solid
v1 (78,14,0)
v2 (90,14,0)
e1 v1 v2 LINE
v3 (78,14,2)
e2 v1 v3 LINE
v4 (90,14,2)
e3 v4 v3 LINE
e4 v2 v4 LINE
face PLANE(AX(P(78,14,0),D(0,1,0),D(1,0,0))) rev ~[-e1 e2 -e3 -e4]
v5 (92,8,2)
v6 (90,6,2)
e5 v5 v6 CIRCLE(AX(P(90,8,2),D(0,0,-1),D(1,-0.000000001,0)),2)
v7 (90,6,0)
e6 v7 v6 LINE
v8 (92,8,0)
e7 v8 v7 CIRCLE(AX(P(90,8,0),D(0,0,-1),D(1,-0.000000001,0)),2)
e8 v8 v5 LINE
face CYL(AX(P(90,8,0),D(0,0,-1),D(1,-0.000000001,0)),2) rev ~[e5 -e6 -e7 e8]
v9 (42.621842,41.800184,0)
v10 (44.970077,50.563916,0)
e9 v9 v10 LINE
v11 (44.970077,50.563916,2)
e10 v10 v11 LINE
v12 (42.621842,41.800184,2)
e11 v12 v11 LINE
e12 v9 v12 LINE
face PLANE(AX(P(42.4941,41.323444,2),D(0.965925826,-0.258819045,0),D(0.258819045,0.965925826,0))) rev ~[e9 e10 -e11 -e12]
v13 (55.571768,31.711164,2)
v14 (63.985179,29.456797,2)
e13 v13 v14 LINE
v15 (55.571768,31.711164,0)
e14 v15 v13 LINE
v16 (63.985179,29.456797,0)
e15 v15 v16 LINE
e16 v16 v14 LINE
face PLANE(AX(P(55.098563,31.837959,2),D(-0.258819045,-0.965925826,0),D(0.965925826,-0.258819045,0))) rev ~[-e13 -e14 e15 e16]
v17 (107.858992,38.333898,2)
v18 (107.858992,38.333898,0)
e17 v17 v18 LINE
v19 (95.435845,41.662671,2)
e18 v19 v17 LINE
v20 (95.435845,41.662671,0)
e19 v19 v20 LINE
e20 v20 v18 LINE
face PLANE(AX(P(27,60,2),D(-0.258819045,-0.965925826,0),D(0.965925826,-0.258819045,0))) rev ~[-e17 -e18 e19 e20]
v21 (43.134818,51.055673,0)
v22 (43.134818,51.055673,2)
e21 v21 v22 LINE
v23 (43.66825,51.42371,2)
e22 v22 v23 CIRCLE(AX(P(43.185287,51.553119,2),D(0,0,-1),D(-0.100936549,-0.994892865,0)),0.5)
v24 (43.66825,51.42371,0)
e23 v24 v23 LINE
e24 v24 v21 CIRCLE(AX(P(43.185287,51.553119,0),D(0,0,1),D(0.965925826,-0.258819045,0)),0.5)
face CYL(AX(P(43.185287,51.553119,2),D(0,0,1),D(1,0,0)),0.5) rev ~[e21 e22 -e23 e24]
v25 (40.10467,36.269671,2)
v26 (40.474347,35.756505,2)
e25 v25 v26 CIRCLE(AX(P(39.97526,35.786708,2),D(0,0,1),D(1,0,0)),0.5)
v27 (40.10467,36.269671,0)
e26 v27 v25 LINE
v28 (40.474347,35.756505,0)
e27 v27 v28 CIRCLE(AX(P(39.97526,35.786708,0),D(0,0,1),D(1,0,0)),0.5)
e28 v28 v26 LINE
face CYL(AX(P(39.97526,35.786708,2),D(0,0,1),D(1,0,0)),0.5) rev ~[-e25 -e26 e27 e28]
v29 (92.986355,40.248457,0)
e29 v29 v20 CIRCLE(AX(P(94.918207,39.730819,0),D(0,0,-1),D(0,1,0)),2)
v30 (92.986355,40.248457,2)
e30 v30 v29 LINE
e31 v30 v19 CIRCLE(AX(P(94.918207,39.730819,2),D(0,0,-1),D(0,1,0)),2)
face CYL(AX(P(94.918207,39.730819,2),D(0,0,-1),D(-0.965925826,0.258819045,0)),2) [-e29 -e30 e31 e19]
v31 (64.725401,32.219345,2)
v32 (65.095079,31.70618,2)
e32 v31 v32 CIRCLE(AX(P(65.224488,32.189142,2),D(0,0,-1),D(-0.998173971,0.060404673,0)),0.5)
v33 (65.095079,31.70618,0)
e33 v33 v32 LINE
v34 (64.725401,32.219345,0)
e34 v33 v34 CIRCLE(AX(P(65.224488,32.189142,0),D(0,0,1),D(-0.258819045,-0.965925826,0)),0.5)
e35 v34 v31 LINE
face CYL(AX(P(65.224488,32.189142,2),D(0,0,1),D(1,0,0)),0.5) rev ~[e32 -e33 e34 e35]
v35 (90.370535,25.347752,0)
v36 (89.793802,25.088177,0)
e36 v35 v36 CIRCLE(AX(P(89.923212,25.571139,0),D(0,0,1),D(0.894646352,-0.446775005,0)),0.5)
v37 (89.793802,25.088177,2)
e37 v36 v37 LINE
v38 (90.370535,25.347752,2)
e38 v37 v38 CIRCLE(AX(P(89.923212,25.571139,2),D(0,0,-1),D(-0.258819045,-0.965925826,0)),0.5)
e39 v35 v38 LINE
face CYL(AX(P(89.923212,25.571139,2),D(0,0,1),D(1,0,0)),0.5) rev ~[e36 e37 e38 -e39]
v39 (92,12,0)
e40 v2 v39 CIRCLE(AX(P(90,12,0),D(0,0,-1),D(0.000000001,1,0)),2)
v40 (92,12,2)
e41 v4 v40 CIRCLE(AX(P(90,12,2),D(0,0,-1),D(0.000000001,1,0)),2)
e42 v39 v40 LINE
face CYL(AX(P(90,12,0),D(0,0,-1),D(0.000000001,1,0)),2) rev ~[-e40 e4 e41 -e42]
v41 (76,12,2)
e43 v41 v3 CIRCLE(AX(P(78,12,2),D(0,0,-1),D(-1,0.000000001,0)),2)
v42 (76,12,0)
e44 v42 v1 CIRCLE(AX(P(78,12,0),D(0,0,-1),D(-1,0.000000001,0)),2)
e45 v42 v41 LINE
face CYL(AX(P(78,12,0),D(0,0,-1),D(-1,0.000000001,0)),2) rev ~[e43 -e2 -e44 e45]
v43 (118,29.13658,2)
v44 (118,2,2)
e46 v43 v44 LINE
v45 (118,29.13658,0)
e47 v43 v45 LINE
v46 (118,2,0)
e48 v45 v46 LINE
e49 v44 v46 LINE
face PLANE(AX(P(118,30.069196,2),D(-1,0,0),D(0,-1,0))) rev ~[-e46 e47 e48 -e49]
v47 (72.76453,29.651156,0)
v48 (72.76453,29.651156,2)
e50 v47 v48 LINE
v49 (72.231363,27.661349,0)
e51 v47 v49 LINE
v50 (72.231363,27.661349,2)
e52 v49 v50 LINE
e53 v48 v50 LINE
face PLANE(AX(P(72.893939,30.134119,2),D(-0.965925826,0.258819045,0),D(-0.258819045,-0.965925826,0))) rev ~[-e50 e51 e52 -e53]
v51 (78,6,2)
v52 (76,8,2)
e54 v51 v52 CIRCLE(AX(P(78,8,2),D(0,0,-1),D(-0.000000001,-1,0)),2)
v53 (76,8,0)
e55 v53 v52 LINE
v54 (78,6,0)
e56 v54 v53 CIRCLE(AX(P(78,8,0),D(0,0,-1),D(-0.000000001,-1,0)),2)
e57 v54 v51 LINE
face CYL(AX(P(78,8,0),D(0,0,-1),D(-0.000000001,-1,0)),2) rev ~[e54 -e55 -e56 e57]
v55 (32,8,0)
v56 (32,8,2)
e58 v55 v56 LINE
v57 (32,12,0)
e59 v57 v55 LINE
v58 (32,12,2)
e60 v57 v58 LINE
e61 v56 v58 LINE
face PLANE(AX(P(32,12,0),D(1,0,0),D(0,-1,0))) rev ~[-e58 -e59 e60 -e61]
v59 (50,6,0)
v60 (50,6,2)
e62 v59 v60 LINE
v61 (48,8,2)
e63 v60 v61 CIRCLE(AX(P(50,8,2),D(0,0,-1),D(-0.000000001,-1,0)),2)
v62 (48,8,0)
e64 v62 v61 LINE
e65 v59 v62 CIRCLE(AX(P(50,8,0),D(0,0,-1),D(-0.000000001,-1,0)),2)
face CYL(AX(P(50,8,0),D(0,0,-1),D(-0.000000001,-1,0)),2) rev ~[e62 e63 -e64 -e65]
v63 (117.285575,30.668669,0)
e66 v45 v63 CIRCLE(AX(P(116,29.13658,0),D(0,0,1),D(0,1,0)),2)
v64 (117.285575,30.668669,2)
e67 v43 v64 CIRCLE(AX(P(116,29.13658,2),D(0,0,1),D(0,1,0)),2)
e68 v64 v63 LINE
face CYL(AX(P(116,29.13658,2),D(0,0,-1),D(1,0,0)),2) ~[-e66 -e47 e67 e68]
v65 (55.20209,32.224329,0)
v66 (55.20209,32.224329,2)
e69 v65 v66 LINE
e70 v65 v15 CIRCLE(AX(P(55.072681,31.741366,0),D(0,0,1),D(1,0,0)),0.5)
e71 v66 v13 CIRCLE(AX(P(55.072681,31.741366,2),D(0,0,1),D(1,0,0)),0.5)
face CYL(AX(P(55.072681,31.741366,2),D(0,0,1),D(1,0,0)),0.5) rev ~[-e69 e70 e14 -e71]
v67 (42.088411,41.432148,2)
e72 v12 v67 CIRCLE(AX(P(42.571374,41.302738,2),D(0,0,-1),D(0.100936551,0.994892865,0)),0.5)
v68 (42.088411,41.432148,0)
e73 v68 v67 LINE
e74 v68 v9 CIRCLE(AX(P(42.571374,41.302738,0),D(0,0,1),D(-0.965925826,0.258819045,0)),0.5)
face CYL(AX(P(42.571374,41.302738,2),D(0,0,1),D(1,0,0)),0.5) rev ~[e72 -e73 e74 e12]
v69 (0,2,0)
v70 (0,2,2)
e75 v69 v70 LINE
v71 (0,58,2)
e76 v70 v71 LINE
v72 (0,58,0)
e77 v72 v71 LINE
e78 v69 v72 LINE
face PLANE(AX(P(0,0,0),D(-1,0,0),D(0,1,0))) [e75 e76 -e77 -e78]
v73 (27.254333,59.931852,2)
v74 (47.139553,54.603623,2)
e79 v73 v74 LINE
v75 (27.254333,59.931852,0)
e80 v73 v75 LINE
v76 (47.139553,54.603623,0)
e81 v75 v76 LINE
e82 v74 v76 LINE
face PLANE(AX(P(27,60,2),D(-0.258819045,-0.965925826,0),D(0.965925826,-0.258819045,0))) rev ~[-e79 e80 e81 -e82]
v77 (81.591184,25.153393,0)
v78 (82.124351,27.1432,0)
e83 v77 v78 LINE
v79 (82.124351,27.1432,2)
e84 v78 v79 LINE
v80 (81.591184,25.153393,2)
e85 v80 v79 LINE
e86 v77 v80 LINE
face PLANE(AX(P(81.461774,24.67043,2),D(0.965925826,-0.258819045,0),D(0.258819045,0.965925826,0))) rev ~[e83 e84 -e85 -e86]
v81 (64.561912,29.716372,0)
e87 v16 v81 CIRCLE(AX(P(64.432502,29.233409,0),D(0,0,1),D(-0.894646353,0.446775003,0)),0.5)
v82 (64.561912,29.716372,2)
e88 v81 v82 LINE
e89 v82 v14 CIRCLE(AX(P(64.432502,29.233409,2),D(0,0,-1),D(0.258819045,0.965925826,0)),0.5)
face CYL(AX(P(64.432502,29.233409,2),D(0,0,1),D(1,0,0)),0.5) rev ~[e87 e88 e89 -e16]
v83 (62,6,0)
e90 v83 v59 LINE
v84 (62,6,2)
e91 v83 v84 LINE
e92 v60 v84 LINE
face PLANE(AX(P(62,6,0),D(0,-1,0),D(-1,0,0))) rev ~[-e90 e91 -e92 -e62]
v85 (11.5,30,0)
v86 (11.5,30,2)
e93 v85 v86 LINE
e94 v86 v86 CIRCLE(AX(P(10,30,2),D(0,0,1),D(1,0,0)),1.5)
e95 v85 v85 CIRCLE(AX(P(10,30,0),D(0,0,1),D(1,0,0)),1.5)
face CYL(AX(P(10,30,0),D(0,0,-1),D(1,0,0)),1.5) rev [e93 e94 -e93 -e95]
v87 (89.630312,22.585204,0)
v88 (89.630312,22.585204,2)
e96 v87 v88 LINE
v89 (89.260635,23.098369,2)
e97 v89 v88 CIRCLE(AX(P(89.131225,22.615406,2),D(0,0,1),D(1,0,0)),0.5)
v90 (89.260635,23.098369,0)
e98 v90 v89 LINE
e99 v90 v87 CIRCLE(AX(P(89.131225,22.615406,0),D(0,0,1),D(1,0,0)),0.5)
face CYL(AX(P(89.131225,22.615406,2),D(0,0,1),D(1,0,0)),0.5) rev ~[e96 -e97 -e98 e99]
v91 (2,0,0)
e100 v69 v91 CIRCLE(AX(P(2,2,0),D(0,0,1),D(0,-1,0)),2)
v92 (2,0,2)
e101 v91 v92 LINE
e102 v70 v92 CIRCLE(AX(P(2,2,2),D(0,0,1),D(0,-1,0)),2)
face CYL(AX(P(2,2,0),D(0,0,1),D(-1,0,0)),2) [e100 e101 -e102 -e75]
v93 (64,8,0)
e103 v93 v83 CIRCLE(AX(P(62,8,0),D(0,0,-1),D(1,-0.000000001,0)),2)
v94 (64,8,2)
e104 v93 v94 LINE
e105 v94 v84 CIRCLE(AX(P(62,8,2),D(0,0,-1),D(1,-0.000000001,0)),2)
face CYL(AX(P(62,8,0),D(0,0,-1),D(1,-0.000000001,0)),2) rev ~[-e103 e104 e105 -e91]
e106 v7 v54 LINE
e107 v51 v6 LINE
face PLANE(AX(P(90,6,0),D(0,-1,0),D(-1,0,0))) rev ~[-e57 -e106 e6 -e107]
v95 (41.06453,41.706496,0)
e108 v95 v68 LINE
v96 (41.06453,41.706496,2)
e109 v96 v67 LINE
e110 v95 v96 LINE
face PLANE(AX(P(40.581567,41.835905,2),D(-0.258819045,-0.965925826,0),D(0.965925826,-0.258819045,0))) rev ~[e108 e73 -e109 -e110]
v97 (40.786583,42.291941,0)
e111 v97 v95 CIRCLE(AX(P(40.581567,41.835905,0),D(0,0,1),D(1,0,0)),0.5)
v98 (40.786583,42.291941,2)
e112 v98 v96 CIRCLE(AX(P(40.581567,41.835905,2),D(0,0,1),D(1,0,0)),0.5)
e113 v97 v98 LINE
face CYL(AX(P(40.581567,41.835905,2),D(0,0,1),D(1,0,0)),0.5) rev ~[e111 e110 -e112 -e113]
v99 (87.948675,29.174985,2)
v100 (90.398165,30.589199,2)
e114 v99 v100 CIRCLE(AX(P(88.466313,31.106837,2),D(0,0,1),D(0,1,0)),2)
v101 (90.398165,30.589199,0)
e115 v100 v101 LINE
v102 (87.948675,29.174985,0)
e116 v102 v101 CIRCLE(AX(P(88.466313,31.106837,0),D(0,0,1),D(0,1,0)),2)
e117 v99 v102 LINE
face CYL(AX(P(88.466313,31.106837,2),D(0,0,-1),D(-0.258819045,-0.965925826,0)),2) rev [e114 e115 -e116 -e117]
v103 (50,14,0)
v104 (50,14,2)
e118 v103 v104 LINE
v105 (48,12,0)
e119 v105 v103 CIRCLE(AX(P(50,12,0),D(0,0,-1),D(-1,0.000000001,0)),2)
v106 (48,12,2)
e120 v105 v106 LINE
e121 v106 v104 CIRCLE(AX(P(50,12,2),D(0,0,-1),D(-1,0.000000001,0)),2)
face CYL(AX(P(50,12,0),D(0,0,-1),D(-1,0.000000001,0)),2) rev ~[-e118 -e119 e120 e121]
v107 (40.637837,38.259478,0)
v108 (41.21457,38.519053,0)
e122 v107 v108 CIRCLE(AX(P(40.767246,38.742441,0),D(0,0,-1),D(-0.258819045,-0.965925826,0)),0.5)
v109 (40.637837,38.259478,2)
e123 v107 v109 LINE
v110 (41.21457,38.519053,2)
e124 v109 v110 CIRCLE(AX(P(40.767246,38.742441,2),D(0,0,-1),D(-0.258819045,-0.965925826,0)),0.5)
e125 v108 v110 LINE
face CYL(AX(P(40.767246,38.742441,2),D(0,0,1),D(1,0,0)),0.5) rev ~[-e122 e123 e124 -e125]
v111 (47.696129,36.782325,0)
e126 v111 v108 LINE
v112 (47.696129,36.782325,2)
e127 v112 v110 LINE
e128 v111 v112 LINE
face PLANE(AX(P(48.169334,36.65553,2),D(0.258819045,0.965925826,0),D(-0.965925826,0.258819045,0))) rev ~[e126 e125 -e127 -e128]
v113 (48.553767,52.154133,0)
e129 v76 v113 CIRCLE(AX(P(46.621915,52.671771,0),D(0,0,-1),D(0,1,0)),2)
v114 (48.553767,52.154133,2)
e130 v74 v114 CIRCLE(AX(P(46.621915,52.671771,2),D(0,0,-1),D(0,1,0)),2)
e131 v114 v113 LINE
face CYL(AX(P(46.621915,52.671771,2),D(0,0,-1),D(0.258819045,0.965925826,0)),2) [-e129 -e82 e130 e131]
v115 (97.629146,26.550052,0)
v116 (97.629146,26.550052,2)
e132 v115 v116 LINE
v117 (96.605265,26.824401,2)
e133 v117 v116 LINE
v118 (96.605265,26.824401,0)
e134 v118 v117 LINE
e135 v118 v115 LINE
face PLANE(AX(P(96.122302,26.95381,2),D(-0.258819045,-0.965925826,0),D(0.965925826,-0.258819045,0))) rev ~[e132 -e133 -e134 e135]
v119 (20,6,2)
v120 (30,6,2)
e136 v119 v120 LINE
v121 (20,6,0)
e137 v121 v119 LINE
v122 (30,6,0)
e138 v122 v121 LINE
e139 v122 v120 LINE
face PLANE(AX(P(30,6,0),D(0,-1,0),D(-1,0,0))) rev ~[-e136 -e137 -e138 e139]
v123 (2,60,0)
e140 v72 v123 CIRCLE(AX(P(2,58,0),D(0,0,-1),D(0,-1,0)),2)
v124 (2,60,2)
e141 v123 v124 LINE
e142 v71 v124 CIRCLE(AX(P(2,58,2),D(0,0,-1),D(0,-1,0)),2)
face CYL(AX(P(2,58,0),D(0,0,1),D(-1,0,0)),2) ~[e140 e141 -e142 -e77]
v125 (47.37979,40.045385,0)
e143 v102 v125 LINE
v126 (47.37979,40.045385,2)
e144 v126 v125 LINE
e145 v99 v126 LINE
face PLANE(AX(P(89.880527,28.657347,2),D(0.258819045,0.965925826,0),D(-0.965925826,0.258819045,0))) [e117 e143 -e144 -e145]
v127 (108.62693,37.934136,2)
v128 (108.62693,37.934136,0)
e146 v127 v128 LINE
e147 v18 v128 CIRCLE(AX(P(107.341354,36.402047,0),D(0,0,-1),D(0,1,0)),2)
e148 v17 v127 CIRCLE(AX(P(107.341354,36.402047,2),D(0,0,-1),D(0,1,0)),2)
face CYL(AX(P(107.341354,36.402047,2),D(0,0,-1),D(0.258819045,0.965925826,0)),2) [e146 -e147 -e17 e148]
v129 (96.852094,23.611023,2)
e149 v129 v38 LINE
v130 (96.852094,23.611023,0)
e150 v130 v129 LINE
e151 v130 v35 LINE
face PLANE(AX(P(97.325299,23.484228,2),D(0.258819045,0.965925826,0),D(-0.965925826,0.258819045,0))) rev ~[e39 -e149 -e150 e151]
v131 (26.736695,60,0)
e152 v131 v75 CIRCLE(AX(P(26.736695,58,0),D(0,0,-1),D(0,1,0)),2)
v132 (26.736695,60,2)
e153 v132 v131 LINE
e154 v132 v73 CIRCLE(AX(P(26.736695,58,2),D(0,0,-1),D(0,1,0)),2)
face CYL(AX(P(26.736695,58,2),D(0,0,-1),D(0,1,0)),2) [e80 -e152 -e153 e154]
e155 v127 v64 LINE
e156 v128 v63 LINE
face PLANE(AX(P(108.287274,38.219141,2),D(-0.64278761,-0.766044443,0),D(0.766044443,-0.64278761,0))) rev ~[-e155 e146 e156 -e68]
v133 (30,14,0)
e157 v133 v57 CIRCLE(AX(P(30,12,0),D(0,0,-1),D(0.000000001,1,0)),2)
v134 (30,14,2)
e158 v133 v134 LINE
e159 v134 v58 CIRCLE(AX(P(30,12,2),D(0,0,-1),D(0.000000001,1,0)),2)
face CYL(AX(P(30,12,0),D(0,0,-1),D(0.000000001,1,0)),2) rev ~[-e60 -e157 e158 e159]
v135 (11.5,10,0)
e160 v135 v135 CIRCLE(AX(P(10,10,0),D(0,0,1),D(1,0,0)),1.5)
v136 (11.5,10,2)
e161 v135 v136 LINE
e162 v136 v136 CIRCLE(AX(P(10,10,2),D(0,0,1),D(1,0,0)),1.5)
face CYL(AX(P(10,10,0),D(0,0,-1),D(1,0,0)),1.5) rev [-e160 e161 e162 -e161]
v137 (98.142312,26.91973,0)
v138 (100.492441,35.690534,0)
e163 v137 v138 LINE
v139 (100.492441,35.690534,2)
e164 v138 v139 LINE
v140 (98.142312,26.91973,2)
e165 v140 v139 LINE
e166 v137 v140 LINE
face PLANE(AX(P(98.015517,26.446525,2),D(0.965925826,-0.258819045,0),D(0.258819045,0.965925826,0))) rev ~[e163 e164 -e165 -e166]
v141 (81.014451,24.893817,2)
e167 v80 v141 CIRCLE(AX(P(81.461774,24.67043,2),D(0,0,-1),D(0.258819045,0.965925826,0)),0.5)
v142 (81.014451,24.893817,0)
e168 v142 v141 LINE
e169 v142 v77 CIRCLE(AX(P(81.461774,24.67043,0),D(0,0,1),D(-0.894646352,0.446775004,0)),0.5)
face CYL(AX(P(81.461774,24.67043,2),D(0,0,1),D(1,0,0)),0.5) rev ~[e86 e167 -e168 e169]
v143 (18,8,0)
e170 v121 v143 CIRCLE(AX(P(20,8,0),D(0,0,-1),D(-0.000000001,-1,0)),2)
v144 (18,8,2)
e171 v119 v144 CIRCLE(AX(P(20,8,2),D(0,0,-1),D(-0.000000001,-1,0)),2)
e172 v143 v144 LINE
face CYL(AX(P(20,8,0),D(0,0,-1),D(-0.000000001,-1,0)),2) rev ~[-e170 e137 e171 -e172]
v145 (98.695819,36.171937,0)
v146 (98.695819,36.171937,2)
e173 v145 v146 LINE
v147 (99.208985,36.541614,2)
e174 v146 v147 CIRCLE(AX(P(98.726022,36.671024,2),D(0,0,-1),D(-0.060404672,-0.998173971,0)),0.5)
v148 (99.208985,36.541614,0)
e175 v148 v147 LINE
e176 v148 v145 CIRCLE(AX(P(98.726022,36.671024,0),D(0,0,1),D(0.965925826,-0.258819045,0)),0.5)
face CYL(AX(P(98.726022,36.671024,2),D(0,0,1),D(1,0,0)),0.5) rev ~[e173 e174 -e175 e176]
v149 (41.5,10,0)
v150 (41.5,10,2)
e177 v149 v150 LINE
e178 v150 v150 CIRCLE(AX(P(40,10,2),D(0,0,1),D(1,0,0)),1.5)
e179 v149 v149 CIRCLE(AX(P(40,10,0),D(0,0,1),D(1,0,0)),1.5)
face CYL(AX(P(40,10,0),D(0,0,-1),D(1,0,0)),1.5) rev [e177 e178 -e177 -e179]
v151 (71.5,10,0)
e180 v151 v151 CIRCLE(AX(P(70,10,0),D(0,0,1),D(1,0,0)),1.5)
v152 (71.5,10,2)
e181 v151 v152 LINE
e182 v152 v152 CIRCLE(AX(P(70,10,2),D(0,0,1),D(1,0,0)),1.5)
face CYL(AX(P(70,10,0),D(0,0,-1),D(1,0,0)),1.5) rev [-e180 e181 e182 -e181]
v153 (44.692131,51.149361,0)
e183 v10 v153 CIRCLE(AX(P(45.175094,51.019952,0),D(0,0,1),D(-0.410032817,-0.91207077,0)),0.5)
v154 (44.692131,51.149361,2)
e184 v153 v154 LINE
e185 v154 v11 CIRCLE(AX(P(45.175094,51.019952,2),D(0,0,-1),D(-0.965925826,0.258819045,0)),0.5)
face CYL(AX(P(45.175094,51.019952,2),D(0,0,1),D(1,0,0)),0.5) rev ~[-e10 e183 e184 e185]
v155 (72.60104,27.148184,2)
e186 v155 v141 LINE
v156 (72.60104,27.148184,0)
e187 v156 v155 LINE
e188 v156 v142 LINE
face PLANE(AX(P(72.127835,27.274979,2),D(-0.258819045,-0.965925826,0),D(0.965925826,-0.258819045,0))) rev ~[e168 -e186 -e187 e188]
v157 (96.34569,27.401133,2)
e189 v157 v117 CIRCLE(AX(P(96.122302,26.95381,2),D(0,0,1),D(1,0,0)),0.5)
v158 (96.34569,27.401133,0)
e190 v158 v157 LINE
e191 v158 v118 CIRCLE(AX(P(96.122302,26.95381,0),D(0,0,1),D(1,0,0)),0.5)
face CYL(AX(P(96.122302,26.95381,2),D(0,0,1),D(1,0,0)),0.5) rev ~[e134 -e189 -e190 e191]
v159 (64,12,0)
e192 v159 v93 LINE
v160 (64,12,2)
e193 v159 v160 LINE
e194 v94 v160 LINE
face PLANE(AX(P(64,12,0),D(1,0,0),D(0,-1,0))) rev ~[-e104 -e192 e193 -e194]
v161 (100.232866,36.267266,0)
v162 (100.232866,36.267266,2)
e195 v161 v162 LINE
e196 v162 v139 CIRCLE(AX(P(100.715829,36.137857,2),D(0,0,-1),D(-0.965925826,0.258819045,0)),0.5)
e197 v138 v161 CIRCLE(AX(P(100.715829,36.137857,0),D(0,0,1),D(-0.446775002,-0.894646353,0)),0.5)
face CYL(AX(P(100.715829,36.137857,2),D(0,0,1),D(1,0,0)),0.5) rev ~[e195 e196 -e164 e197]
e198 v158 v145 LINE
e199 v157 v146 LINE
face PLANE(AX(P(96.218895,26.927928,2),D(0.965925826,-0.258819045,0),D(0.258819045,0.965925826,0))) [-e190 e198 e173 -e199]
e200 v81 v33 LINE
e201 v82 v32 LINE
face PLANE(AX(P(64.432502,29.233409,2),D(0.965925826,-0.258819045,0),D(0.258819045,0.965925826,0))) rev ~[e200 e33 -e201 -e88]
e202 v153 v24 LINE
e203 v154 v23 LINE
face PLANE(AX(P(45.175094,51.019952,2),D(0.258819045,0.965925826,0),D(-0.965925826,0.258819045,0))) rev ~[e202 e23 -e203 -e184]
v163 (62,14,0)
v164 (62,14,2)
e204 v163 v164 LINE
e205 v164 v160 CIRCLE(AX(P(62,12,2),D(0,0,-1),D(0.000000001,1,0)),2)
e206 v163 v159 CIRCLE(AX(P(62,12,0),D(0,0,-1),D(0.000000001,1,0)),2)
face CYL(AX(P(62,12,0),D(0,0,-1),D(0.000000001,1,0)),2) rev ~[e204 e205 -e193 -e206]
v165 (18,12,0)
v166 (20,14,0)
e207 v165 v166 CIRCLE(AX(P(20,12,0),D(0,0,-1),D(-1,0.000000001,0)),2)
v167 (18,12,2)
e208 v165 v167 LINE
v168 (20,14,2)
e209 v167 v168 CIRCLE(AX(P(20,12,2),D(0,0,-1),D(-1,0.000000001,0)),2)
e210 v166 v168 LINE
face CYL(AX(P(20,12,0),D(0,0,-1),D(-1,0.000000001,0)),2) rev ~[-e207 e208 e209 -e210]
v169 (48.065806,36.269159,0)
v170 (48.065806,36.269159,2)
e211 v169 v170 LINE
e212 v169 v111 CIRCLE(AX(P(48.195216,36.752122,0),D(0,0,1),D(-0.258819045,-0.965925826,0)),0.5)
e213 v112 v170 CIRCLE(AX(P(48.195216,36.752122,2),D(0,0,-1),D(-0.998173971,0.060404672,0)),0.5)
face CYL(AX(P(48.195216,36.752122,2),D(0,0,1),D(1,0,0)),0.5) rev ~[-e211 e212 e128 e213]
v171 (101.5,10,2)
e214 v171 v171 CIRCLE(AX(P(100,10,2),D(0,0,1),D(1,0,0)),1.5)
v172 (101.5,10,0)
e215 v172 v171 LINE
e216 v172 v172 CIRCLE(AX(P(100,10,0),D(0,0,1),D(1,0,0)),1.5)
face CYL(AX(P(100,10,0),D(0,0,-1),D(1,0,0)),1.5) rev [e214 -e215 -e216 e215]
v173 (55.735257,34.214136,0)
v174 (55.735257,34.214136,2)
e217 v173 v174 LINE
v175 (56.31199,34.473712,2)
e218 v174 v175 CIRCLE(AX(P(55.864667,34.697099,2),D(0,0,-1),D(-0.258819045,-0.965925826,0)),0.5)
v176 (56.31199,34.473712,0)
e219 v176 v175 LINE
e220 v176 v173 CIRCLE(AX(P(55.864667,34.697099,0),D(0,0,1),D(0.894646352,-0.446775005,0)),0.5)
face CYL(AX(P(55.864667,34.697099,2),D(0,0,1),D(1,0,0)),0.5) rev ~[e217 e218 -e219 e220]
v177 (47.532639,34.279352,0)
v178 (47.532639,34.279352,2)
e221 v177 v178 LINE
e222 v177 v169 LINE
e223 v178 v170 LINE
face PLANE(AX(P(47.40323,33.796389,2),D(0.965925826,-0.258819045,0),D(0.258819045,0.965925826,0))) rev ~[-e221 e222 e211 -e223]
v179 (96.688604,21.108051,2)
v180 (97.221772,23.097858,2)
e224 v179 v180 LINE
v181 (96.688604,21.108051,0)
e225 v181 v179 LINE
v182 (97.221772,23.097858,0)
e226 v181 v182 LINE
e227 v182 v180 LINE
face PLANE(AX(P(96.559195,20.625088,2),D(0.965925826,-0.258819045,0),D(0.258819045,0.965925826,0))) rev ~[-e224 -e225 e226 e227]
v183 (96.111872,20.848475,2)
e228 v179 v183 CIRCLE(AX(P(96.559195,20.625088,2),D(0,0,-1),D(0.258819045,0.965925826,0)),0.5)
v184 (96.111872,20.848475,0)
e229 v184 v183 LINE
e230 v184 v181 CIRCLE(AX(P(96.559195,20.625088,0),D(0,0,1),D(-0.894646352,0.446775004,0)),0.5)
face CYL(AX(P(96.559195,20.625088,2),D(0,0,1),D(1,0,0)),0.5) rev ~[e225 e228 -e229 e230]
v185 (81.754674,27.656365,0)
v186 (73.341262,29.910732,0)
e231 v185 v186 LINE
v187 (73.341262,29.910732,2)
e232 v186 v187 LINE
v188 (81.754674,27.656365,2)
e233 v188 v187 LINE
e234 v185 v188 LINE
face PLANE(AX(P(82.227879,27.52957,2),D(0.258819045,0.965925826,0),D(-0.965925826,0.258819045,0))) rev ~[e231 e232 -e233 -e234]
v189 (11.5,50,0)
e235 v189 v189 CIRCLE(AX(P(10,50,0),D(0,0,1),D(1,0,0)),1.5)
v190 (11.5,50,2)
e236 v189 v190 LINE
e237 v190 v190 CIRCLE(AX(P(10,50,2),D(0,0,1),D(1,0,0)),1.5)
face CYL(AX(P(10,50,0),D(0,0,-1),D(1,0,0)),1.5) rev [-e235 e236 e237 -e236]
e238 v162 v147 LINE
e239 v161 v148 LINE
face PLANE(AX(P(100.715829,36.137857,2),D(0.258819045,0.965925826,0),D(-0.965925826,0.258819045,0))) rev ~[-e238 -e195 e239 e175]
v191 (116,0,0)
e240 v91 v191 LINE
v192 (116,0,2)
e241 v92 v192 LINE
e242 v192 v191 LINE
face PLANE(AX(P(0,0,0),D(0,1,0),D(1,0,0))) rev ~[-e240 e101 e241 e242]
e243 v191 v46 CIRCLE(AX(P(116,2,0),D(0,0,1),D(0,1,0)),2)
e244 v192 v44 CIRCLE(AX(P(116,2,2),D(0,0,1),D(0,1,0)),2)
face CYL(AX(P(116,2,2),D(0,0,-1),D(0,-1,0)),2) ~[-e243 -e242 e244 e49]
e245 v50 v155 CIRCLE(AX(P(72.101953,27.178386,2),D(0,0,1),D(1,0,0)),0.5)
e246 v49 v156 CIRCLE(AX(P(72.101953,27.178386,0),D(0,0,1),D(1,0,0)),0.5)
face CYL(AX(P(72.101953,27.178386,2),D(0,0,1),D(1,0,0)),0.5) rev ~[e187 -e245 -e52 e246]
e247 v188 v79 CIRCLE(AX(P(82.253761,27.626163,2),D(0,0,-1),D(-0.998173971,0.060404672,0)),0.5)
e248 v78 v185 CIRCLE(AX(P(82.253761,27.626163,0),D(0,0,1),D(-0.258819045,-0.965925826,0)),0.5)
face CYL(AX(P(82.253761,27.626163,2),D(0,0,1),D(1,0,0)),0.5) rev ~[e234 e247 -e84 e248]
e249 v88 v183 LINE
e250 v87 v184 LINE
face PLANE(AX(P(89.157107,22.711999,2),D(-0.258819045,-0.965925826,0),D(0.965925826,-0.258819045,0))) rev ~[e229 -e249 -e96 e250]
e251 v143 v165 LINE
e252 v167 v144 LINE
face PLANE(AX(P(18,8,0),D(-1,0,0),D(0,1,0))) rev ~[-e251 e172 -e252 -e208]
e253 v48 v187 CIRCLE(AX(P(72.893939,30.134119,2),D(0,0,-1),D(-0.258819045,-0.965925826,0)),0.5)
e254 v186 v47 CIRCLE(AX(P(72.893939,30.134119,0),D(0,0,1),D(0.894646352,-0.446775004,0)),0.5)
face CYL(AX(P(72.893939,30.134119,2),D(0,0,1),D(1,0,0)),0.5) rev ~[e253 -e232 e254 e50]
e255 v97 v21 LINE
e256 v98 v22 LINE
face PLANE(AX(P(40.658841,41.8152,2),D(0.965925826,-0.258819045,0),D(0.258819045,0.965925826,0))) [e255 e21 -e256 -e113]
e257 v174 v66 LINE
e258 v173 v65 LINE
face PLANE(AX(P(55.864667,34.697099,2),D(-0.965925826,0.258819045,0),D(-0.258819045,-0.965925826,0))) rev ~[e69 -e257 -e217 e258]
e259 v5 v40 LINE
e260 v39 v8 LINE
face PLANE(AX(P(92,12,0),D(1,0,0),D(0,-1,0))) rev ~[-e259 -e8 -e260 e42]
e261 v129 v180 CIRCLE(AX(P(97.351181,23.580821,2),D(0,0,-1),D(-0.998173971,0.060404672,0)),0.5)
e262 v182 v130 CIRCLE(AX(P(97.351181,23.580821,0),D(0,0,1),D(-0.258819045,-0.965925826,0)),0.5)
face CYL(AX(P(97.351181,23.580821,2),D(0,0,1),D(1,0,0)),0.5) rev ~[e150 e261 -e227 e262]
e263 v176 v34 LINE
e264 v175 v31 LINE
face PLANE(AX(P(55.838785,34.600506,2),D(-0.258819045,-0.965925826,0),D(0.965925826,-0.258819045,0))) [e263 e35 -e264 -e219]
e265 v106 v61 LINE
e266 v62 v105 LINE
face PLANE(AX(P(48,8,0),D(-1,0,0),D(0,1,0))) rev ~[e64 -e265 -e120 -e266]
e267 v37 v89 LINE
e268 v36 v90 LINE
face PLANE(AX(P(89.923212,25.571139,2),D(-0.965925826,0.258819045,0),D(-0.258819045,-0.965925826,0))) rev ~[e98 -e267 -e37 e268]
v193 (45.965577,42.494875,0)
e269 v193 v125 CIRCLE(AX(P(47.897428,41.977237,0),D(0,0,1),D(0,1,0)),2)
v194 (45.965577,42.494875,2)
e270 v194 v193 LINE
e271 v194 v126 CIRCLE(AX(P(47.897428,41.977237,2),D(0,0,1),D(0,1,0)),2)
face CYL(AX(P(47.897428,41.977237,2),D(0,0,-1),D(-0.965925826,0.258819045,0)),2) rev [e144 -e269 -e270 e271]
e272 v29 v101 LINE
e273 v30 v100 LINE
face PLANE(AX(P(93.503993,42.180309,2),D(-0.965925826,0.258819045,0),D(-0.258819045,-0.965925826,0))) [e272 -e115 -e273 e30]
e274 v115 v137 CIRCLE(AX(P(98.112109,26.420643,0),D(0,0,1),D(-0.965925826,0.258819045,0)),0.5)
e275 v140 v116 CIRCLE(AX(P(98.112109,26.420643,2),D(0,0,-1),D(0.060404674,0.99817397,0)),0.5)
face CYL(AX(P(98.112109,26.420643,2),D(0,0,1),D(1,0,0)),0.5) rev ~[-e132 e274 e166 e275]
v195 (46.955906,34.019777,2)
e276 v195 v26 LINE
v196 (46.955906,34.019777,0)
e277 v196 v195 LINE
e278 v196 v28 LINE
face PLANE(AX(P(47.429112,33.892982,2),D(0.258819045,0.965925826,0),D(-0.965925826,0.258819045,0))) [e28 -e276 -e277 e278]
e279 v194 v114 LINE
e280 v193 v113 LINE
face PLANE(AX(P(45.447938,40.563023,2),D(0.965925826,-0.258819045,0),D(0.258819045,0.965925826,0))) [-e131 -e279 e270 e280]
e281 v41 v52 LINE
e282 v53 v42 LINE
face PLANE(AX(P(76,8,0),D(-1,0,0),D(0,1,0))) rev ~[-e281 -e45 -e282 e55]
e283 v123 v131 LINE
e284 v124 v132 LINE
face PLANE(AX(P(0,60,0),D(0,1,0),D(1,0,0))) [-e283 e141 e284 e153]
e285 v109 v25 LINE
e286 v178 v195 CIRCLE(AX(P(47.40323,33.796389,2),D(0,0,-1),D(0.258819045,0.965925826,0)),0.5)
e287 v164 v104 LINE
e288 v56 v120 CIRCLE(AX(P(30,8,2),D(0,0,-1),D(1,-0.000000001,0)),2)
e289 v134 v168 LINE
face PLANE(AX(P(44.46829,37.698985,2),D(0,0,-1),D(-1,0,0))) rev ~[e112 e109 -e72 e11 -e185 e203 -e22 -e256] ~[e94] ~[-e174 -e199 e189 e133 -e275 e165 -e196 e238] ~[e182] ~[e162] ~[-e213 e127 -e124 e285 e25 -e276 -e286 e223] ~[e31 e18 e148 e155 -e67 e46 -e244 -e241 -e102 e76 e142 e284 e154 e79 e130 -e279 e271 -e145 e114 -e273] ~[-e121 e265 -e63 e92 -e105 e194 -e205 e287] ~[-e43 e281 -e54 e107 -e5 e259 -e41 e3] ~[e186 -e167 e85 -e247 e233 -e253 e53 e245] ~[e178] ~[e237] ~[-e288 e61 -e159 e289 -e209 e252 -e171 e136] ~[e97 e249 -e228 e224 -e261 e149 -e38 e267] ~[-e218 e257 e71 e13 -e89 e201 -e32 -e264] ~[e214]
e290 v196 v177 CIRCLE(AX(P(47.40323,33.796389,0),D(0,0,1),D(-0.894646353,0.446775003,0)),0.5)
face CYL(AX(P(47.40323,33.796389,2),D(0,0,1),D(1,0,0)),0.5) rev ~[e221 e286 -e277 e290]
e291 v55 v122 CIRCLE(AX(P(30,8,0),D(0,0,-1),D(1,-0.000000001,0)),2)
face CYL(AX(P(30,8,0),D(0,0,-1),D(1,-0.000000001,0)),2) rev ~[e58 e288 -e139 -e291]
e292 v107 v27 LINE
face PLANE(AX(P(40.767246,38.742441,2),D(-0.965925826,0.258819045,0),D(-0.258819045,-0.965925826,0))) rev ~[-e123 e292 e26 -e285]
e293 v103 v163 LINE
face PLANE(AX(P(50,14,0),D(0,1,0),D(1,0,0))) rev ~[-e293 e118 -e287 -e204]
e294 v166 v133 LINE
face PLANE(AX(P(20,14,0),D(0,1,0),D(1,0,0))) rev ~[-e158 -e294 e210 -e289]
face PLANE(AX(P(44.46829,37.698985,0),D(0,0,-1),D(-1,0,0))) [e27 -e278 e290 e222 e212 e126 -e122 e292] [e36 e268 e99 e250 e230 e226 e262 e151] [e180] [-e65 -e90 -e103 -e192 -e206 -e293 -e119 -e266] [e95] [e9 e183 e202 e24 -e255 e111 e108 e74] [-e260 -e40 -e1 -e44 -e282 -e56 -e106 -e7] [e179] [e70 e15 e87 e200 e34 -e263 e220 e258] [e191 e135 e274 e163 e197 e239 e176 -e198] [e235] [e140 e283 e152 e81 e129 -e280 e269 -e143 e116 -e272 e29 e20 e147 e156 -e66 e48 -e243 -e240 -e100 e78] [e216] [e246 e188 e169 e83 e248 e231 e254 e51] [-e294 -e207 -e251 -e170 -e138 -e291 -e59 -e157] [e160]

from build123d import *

# Parameters (mm, degrees)
SKETCH_1_W           = 130
SKETCH_1_H           = 60
SKETCH_1_R           = 1.5
EXTRUDE_1_DEPTH      = 2
CUT_EXTRUDE_1_DEPTH  = 3
CUT_EXTRUDE_2_DEPTH  = 3
CUT_EXTRUDE_5_DEPTH  = 10
CUT_EXTRUDE_6_DEPTH  = 3
FILLET_1_R           = 2
CUT_EXTRUDE_7_DEPTH  = 3
CUT_EXTRUDE_8_DEPTH  = 10
CUT_EXTRUDE_9_DEPTH  = 10
EXTRUDE_2_DEPTH      = 2
SKETCH_9_R           = 0.5
CUT_EXTRUDE_10_DEPTH = 10


with BuildPart() as part:
    # 草图1 → 凸台-拉伸1 (new body)
    with BuildSketch(Plane.XY):
        with Locations((65, 30)):
            Rectangle(SKETCH_1_W, SKETCH_1_H)
        with Locations((10, 10)):
            Circle(SKETCH_1_R, mode=Mode.SUBTRACT)
        with Locations((10, 30)):
            Circle(SKETCH_1_R, mode=Mode.SUBTRACT)
        with Locations((10, 50)):
            Circle(SKETCH_1_R, mode=Mode.SUBTRACT)
        with Locations((40, 10)):
            Circle(SKETCH_1_R, mode=Mode.SUBTRACT)
        with Locations((70, 10)):
            Circle(SKETCH_1_R, mode=Mode.SUBTRACT)
        with Locations((100, 10)):
            Circle(SKETCH_1_R, mode=Mode.SUBTRACT)
    extrude(amount=EXTRUDE_1_DEPTH)

    # 草图2 → 切除-拉伸1 (cut, through all)
    with BuildSketch(Plane.XY.offset(2)):
        Polygon((27, 60), (130, 32.40123318), (130, 60), align=None)
    extrude(amount=-CUT_EXTRUDE_1_DEPTH, mode=Mode.SUBTRACT)

    # 草图3 → 切除-拉伸2 (cut, through all)
    with BuildSketch(Plane.XY.offset(2)):
        Polygon((49.071405131, 54.085984819), (93.50399314, 42.180308745), (89.880526509, 28.657347177), (45.447938499, 40.563023251), align=None)
    extrude(amount=-CUT_EXTRUDE_2_DEPTH, mode=Mode.SUBTRACT)

    # 草图4 → 切除-拉伸5 (cut)
    with BuildSketch(Plane.XY.offset(2)):
        Polygon((98.74723483, 36.634281646), (96.159044379, 26.975023383), (98.090896032, 26.457385293), (100.679086483, 36.116643556), align=None)
        Polygon((45.138351471, 50.99873865), (42.55016102, 41.339480387), (40.618309368, 41.857118477), (43.206499819, 51.51637674), align=None)
    extrude(amount=-CUT_EXTRUDE_5_DEPTH, mode=Mode.SUBTRACT)

    # 草图5 → 切除-拉伸6 (cut, through all)
    with BuildSketch(Plane.XY.offset(2)):
        Polygon((130, 20), (130, 32.40123318), (108.287273653, 38.21914067), (118, 30.069195574), (118, 0), (130, 0), align=None)
    extrude(amount=-CUT_EXTRUDE_6_DEPTH, mode=Mode.SUBTRACT)

    # 圆角1
    fillet_1_edges = [part.edges().sort_by_distance(p)[0] for p in [
        (118, 30.069195574, 1),
        (108.287273653, 38.21914067, 1),
        (118, 0, 1),
        (27, 60, 1),
        (45.447938499, 40.563023251, 1),
        (49.071405131, 54.085984819, 1),
        (93.50399314, 42.180308745, 1),
        (89.880526509, 28.657347177, 1),
        (0, 60, 1),
        (0, 0, 1),
    ]]
    fillet(fillet_1_edges, radius=FILLET_1_R)

    # 草图6 → 切除-拉伸7 (cut)
    with BuildSketch(Plane(origin=(0, 0, 0), x_dir=(-1, 0, 0), z_dir=(0, 0, -1))):
        with BuildLine():
            Line((-78, 14), (-90, 14))
            ThreePointArc((-90, 14), (-91.414213562, 13.414213562), (-92, 12))
            Line((-92, 12), (-92, 8))
            ThreePointArc((-92, 8), (-91.414213562, 6.585786438), (-90, 6))
            Line((-90, 6), (-78, 6))
            ThreePointArc((-78, 6), (-76.585786438, 6.585786438), (-76, 8))
            Line((-76, 8), (-76, 12))
            ThreePointArc((-76, 12), (-76.585786438, 13.414213562), (-78, 14))
        make_face()
        with BuildLine():
            Line((-50, 14), (-62, 14))
            ThreePointArc((-62, 14), (-63.414213562, 13.414213562), (-64, 12))
            Line((-64, 12), (-64, 8))
            ThreePointArc((-64, 8), (-63.414213562, 6.585786438), (-62, 6))
            Line((-62, 6), (-50, 6))
            ThreePointArc((-50, 6), (-48.585786438, 6.585786438), (-48, 8))
            Line((-48, 8), (-48, 12))
            ThreePointArc((-48, 12), (-48.585786438, 13.414213562), (-50, 14))
        make_face()
        with BuildLine():
            Line((-20, 14), (-30, 14))
            ThreePointArc((-30, 14), (-31.414213562, 13.414213562), (-32, 12))
            Line((-32, 12), (-32, 8))
            ThreePointArc((-32, 8), (-31.414213562, 6.585786438), (-30, 6))
            Line((-30, 6), (-20, 6))
            ThreePointArc((-20, 6), (-18.585786438, 6.585786438), (-18, 8))
            Line((-18, 8), (-18, 12))
            ThreePointArc((-18, 12), (-18.585786438, 13.414213562), (-20, 14))
        make_face()
    extrude(amount=-CUT_EXTRUDE_7_DEPTH, mode=Mode.SUBTRACT)

    # 草图7 → 切除-拉伸8 (cut)
    with BuildSketch(Plane.XY.offset(2)):
        Polygon((97.314438897, 23.559607814), (89.944424842, 25.534397129), (89.167967707, 22.63661965), (96.537981761, 20.661830336), align=None)
        Polygon((81.440561097, 24.70717201), (82.217018232, 27.604949489), (72.915152525, 30.097376894), (72.138695389, 27.199599415), align=None)
        Polygon((64.411288779, 29.270151776), (65.187745914, 32.167929255), (55.885880207, 34.660356659), (55.109423072, 31.76257918), align=None)
        Polygon((47.382016462, 33.833131541), (48.158473597, 36.73090902), (40.788459542, 38.705698334), (40.012002407, 35.807920855), align=None)
    extrude(amount=-CUT_EXTRUDE_8_DEPTH, mode=Mode.SUBTRACT)

    # 草图8 → 切除-拉伸9 (cut)
    with BuildSketch(Plane.XY.offset(2)):
        Polygon((98.726021627, 36.671023993), (96.122302033, 26.95381018), (98.112109235, 26.420642947), (100.715828829, 36.13785676), align=None)
        Polygon((97.351181243, 23.580821018), (89.923211639, 25.571139475), (89.131225361, 22.615406446), (96.559194965, 20.625087989), align=None)
        Polygon((81.4617743, 24.670429664), (82.253760578, 27.626162693), (72.893939321, 30.13411924), (72.101953043, 27.178386211), align=None)
        Polygon((64.432501982, 29.23340943), (65.22448826, 32.189142458), (55.864667004, 34.697099005), (55.072680726, 31.741365977), align=None)
        Polygon((47.403229665, 33.796389195), (48.195215943, 36.752122223), (40.767246339, 38.74244068), (39.975260061, 35.786707652), align=None)
        Polygon((43.185286615, 51.553119086), (40.581567022, 41.835905273), (42.571374224, 41.302738041), (45.175093818, 51.019951853), align=None)
    extrude(amount=-CUT_EXTRUDE_9_DEPTH, mode=Mode.SUBTRACT)

    # 草图10 → 凸台-拉伸2 (add)
    with BuildSketch(Plane.XY.offset(2)):
        Polygon((40.767246339, 38.74244068), (48.195215943, 36.752122223), (48.169334038, 36.65552964), (40.741364434, 38.645848097), align=None)
        Polygon((39.975260061, 35.786707652), (47.403229665, 33.796389195), (47.42911157, 33.892981777), (40.001141965, 35.883300234), align=None)
        Polygon((55.864667004, 34.697099005), (55.838785099, 34.600506422), (65.196979694, 32.092985738), (65.222861598, 32.189578321), align=None)
        Polygon((64.432501982, 29.23340943), (55.072680726, 31.741365977), (55.09856263, 31.837958559), (64.458383887, 29.330002012), align=None)
        Polygon((72.893939321, 30.13411924), (82.253760578, 27.626162693), (82.227878673, 27.52957011), (72.868057417, 30.037526657), align=None)
        Polygon((81.4617743, 24.670429664), (72.101953043, 27.178386211), (72.127834948, 27.274978794), (81.487656204, 24.767022247), align=None)
        Polygon((89.923211639, 25.571139475), (97.351181243, 23.580821018), (97.325299338, 23.484228435), (89.897329734, 25.474546892), align=None)
        Polygon((96.559194965, 20.625087989), (89.131225361, 22.615406446), (89.157107265, 22.711999029), (96.585076869, 20.721680572), align=None)
        Polygon((98.726021627, 36.671023993), (96.122302033, 26.95381018), (96.218894616, 26.927928276), (98.82261421, 36.645142088), align=None)
        Polygon((100.715828829, 36.13785676), (98.112109235, 26.420642947), (98.015516653, 26.446524852), (100.619236247, 36.163738664), align=None)
        Polygon((43.185286615, 51.553119086), (40.581567022, 41.835905273), (40.658841088, 41.81519975), (43.262560682, 51.532413562), align=None)
        Polygon((45.175093818, 51.019951853), (42.571374224, 41.302738041), (42.494100158, 41.323443564), (45.097819751, 51.040657377), align=None)
    extrude(amount=-EXTRUDE_2_DEPTH)

    # 草图9 → 切除-拉伸10 (cut)
    with BuildSketch(Plane.XY.offset(2)):
        with Locations((43.185286615, 51.553119086)):
            Circle(SKETCH_9_R)
        with Locations((45.175093818, 51.019951853)):
            Circle(SKETCH_9_R)
        with Locations((40.581567022, 41.835905273)):
            Circle(SKETCH_9_R)
        with Locations((42.571374224, 41.302738041)):
            Circle(SKETCH_9_R)
        with Locations((40.767246339, 38.74244068)):
            Circle(SKETCH_9_R)
        with Locations((48.195215943, 36.752122223)):
            Circle(SKETCH_9_R)
        with Locations((39.975260061, 35.786707652)):
            Circle(SKETCH_9_R)
        with Locations((47.403229665, 33.796389195)):
            Circle(SKETCH_9_R)
        with Locations((55.864667004, 34.697099005)):
            Circle(SKETCH_9_R)
        with Locations((55.072680726, 31.741365977)):
            Circle(SKETCH_9_R)
        with Locations((65.22448826, 32.189142458)):
            Circle(SKETCH_9_R)
        with Locations((64.432501982, 29.23340943)):
            Circle(SKETCH_9_R)
        with Locations((72.101953043, 27.178386211)):
            Circle(SKETCH_9_R)
        with Locations((72.893939321, 30.13411924)):
            Circle(SKETCH_9_R)
        with Locations((82.253760578, 27.626162693)):
            Circle(SKETCH_9_R)
        with Locations((81.4617743, 24.670429664)):
            Circle(SKETCH_9_R)
        with Locations((89.131225361, 22.615406446)):
            Circle(SKETCH_9_R)
        with Locations((89.923211639, 25.571139475)):
            Circle(SKETCH_9_R)
        with Locations((97.351181243, 23.580821018)):
            Circle(SKETCH_9_R)
        with Locations((96.559194965, 20.625087989)):
            Circle(SKETCH_9_R)
        with Locations((96.122302033, 26.95381018)):
            Circle(SKETCH_9_R)
        with Locations((98.112109235, 26.420642947)):
            Circle(SKETCH_9_R)
        with Locations((98.726021627, 36.671023993)):
            Circle(SKETCH_9_R)
        with Locations((100.715828829, 36.13785676)):
            Circle(SKETCH_9_R)
    extrude(amount=-CUT_EXTRUDE_10_DEPTH, mode=Mode.SUBTRACT)


solid = part.part
